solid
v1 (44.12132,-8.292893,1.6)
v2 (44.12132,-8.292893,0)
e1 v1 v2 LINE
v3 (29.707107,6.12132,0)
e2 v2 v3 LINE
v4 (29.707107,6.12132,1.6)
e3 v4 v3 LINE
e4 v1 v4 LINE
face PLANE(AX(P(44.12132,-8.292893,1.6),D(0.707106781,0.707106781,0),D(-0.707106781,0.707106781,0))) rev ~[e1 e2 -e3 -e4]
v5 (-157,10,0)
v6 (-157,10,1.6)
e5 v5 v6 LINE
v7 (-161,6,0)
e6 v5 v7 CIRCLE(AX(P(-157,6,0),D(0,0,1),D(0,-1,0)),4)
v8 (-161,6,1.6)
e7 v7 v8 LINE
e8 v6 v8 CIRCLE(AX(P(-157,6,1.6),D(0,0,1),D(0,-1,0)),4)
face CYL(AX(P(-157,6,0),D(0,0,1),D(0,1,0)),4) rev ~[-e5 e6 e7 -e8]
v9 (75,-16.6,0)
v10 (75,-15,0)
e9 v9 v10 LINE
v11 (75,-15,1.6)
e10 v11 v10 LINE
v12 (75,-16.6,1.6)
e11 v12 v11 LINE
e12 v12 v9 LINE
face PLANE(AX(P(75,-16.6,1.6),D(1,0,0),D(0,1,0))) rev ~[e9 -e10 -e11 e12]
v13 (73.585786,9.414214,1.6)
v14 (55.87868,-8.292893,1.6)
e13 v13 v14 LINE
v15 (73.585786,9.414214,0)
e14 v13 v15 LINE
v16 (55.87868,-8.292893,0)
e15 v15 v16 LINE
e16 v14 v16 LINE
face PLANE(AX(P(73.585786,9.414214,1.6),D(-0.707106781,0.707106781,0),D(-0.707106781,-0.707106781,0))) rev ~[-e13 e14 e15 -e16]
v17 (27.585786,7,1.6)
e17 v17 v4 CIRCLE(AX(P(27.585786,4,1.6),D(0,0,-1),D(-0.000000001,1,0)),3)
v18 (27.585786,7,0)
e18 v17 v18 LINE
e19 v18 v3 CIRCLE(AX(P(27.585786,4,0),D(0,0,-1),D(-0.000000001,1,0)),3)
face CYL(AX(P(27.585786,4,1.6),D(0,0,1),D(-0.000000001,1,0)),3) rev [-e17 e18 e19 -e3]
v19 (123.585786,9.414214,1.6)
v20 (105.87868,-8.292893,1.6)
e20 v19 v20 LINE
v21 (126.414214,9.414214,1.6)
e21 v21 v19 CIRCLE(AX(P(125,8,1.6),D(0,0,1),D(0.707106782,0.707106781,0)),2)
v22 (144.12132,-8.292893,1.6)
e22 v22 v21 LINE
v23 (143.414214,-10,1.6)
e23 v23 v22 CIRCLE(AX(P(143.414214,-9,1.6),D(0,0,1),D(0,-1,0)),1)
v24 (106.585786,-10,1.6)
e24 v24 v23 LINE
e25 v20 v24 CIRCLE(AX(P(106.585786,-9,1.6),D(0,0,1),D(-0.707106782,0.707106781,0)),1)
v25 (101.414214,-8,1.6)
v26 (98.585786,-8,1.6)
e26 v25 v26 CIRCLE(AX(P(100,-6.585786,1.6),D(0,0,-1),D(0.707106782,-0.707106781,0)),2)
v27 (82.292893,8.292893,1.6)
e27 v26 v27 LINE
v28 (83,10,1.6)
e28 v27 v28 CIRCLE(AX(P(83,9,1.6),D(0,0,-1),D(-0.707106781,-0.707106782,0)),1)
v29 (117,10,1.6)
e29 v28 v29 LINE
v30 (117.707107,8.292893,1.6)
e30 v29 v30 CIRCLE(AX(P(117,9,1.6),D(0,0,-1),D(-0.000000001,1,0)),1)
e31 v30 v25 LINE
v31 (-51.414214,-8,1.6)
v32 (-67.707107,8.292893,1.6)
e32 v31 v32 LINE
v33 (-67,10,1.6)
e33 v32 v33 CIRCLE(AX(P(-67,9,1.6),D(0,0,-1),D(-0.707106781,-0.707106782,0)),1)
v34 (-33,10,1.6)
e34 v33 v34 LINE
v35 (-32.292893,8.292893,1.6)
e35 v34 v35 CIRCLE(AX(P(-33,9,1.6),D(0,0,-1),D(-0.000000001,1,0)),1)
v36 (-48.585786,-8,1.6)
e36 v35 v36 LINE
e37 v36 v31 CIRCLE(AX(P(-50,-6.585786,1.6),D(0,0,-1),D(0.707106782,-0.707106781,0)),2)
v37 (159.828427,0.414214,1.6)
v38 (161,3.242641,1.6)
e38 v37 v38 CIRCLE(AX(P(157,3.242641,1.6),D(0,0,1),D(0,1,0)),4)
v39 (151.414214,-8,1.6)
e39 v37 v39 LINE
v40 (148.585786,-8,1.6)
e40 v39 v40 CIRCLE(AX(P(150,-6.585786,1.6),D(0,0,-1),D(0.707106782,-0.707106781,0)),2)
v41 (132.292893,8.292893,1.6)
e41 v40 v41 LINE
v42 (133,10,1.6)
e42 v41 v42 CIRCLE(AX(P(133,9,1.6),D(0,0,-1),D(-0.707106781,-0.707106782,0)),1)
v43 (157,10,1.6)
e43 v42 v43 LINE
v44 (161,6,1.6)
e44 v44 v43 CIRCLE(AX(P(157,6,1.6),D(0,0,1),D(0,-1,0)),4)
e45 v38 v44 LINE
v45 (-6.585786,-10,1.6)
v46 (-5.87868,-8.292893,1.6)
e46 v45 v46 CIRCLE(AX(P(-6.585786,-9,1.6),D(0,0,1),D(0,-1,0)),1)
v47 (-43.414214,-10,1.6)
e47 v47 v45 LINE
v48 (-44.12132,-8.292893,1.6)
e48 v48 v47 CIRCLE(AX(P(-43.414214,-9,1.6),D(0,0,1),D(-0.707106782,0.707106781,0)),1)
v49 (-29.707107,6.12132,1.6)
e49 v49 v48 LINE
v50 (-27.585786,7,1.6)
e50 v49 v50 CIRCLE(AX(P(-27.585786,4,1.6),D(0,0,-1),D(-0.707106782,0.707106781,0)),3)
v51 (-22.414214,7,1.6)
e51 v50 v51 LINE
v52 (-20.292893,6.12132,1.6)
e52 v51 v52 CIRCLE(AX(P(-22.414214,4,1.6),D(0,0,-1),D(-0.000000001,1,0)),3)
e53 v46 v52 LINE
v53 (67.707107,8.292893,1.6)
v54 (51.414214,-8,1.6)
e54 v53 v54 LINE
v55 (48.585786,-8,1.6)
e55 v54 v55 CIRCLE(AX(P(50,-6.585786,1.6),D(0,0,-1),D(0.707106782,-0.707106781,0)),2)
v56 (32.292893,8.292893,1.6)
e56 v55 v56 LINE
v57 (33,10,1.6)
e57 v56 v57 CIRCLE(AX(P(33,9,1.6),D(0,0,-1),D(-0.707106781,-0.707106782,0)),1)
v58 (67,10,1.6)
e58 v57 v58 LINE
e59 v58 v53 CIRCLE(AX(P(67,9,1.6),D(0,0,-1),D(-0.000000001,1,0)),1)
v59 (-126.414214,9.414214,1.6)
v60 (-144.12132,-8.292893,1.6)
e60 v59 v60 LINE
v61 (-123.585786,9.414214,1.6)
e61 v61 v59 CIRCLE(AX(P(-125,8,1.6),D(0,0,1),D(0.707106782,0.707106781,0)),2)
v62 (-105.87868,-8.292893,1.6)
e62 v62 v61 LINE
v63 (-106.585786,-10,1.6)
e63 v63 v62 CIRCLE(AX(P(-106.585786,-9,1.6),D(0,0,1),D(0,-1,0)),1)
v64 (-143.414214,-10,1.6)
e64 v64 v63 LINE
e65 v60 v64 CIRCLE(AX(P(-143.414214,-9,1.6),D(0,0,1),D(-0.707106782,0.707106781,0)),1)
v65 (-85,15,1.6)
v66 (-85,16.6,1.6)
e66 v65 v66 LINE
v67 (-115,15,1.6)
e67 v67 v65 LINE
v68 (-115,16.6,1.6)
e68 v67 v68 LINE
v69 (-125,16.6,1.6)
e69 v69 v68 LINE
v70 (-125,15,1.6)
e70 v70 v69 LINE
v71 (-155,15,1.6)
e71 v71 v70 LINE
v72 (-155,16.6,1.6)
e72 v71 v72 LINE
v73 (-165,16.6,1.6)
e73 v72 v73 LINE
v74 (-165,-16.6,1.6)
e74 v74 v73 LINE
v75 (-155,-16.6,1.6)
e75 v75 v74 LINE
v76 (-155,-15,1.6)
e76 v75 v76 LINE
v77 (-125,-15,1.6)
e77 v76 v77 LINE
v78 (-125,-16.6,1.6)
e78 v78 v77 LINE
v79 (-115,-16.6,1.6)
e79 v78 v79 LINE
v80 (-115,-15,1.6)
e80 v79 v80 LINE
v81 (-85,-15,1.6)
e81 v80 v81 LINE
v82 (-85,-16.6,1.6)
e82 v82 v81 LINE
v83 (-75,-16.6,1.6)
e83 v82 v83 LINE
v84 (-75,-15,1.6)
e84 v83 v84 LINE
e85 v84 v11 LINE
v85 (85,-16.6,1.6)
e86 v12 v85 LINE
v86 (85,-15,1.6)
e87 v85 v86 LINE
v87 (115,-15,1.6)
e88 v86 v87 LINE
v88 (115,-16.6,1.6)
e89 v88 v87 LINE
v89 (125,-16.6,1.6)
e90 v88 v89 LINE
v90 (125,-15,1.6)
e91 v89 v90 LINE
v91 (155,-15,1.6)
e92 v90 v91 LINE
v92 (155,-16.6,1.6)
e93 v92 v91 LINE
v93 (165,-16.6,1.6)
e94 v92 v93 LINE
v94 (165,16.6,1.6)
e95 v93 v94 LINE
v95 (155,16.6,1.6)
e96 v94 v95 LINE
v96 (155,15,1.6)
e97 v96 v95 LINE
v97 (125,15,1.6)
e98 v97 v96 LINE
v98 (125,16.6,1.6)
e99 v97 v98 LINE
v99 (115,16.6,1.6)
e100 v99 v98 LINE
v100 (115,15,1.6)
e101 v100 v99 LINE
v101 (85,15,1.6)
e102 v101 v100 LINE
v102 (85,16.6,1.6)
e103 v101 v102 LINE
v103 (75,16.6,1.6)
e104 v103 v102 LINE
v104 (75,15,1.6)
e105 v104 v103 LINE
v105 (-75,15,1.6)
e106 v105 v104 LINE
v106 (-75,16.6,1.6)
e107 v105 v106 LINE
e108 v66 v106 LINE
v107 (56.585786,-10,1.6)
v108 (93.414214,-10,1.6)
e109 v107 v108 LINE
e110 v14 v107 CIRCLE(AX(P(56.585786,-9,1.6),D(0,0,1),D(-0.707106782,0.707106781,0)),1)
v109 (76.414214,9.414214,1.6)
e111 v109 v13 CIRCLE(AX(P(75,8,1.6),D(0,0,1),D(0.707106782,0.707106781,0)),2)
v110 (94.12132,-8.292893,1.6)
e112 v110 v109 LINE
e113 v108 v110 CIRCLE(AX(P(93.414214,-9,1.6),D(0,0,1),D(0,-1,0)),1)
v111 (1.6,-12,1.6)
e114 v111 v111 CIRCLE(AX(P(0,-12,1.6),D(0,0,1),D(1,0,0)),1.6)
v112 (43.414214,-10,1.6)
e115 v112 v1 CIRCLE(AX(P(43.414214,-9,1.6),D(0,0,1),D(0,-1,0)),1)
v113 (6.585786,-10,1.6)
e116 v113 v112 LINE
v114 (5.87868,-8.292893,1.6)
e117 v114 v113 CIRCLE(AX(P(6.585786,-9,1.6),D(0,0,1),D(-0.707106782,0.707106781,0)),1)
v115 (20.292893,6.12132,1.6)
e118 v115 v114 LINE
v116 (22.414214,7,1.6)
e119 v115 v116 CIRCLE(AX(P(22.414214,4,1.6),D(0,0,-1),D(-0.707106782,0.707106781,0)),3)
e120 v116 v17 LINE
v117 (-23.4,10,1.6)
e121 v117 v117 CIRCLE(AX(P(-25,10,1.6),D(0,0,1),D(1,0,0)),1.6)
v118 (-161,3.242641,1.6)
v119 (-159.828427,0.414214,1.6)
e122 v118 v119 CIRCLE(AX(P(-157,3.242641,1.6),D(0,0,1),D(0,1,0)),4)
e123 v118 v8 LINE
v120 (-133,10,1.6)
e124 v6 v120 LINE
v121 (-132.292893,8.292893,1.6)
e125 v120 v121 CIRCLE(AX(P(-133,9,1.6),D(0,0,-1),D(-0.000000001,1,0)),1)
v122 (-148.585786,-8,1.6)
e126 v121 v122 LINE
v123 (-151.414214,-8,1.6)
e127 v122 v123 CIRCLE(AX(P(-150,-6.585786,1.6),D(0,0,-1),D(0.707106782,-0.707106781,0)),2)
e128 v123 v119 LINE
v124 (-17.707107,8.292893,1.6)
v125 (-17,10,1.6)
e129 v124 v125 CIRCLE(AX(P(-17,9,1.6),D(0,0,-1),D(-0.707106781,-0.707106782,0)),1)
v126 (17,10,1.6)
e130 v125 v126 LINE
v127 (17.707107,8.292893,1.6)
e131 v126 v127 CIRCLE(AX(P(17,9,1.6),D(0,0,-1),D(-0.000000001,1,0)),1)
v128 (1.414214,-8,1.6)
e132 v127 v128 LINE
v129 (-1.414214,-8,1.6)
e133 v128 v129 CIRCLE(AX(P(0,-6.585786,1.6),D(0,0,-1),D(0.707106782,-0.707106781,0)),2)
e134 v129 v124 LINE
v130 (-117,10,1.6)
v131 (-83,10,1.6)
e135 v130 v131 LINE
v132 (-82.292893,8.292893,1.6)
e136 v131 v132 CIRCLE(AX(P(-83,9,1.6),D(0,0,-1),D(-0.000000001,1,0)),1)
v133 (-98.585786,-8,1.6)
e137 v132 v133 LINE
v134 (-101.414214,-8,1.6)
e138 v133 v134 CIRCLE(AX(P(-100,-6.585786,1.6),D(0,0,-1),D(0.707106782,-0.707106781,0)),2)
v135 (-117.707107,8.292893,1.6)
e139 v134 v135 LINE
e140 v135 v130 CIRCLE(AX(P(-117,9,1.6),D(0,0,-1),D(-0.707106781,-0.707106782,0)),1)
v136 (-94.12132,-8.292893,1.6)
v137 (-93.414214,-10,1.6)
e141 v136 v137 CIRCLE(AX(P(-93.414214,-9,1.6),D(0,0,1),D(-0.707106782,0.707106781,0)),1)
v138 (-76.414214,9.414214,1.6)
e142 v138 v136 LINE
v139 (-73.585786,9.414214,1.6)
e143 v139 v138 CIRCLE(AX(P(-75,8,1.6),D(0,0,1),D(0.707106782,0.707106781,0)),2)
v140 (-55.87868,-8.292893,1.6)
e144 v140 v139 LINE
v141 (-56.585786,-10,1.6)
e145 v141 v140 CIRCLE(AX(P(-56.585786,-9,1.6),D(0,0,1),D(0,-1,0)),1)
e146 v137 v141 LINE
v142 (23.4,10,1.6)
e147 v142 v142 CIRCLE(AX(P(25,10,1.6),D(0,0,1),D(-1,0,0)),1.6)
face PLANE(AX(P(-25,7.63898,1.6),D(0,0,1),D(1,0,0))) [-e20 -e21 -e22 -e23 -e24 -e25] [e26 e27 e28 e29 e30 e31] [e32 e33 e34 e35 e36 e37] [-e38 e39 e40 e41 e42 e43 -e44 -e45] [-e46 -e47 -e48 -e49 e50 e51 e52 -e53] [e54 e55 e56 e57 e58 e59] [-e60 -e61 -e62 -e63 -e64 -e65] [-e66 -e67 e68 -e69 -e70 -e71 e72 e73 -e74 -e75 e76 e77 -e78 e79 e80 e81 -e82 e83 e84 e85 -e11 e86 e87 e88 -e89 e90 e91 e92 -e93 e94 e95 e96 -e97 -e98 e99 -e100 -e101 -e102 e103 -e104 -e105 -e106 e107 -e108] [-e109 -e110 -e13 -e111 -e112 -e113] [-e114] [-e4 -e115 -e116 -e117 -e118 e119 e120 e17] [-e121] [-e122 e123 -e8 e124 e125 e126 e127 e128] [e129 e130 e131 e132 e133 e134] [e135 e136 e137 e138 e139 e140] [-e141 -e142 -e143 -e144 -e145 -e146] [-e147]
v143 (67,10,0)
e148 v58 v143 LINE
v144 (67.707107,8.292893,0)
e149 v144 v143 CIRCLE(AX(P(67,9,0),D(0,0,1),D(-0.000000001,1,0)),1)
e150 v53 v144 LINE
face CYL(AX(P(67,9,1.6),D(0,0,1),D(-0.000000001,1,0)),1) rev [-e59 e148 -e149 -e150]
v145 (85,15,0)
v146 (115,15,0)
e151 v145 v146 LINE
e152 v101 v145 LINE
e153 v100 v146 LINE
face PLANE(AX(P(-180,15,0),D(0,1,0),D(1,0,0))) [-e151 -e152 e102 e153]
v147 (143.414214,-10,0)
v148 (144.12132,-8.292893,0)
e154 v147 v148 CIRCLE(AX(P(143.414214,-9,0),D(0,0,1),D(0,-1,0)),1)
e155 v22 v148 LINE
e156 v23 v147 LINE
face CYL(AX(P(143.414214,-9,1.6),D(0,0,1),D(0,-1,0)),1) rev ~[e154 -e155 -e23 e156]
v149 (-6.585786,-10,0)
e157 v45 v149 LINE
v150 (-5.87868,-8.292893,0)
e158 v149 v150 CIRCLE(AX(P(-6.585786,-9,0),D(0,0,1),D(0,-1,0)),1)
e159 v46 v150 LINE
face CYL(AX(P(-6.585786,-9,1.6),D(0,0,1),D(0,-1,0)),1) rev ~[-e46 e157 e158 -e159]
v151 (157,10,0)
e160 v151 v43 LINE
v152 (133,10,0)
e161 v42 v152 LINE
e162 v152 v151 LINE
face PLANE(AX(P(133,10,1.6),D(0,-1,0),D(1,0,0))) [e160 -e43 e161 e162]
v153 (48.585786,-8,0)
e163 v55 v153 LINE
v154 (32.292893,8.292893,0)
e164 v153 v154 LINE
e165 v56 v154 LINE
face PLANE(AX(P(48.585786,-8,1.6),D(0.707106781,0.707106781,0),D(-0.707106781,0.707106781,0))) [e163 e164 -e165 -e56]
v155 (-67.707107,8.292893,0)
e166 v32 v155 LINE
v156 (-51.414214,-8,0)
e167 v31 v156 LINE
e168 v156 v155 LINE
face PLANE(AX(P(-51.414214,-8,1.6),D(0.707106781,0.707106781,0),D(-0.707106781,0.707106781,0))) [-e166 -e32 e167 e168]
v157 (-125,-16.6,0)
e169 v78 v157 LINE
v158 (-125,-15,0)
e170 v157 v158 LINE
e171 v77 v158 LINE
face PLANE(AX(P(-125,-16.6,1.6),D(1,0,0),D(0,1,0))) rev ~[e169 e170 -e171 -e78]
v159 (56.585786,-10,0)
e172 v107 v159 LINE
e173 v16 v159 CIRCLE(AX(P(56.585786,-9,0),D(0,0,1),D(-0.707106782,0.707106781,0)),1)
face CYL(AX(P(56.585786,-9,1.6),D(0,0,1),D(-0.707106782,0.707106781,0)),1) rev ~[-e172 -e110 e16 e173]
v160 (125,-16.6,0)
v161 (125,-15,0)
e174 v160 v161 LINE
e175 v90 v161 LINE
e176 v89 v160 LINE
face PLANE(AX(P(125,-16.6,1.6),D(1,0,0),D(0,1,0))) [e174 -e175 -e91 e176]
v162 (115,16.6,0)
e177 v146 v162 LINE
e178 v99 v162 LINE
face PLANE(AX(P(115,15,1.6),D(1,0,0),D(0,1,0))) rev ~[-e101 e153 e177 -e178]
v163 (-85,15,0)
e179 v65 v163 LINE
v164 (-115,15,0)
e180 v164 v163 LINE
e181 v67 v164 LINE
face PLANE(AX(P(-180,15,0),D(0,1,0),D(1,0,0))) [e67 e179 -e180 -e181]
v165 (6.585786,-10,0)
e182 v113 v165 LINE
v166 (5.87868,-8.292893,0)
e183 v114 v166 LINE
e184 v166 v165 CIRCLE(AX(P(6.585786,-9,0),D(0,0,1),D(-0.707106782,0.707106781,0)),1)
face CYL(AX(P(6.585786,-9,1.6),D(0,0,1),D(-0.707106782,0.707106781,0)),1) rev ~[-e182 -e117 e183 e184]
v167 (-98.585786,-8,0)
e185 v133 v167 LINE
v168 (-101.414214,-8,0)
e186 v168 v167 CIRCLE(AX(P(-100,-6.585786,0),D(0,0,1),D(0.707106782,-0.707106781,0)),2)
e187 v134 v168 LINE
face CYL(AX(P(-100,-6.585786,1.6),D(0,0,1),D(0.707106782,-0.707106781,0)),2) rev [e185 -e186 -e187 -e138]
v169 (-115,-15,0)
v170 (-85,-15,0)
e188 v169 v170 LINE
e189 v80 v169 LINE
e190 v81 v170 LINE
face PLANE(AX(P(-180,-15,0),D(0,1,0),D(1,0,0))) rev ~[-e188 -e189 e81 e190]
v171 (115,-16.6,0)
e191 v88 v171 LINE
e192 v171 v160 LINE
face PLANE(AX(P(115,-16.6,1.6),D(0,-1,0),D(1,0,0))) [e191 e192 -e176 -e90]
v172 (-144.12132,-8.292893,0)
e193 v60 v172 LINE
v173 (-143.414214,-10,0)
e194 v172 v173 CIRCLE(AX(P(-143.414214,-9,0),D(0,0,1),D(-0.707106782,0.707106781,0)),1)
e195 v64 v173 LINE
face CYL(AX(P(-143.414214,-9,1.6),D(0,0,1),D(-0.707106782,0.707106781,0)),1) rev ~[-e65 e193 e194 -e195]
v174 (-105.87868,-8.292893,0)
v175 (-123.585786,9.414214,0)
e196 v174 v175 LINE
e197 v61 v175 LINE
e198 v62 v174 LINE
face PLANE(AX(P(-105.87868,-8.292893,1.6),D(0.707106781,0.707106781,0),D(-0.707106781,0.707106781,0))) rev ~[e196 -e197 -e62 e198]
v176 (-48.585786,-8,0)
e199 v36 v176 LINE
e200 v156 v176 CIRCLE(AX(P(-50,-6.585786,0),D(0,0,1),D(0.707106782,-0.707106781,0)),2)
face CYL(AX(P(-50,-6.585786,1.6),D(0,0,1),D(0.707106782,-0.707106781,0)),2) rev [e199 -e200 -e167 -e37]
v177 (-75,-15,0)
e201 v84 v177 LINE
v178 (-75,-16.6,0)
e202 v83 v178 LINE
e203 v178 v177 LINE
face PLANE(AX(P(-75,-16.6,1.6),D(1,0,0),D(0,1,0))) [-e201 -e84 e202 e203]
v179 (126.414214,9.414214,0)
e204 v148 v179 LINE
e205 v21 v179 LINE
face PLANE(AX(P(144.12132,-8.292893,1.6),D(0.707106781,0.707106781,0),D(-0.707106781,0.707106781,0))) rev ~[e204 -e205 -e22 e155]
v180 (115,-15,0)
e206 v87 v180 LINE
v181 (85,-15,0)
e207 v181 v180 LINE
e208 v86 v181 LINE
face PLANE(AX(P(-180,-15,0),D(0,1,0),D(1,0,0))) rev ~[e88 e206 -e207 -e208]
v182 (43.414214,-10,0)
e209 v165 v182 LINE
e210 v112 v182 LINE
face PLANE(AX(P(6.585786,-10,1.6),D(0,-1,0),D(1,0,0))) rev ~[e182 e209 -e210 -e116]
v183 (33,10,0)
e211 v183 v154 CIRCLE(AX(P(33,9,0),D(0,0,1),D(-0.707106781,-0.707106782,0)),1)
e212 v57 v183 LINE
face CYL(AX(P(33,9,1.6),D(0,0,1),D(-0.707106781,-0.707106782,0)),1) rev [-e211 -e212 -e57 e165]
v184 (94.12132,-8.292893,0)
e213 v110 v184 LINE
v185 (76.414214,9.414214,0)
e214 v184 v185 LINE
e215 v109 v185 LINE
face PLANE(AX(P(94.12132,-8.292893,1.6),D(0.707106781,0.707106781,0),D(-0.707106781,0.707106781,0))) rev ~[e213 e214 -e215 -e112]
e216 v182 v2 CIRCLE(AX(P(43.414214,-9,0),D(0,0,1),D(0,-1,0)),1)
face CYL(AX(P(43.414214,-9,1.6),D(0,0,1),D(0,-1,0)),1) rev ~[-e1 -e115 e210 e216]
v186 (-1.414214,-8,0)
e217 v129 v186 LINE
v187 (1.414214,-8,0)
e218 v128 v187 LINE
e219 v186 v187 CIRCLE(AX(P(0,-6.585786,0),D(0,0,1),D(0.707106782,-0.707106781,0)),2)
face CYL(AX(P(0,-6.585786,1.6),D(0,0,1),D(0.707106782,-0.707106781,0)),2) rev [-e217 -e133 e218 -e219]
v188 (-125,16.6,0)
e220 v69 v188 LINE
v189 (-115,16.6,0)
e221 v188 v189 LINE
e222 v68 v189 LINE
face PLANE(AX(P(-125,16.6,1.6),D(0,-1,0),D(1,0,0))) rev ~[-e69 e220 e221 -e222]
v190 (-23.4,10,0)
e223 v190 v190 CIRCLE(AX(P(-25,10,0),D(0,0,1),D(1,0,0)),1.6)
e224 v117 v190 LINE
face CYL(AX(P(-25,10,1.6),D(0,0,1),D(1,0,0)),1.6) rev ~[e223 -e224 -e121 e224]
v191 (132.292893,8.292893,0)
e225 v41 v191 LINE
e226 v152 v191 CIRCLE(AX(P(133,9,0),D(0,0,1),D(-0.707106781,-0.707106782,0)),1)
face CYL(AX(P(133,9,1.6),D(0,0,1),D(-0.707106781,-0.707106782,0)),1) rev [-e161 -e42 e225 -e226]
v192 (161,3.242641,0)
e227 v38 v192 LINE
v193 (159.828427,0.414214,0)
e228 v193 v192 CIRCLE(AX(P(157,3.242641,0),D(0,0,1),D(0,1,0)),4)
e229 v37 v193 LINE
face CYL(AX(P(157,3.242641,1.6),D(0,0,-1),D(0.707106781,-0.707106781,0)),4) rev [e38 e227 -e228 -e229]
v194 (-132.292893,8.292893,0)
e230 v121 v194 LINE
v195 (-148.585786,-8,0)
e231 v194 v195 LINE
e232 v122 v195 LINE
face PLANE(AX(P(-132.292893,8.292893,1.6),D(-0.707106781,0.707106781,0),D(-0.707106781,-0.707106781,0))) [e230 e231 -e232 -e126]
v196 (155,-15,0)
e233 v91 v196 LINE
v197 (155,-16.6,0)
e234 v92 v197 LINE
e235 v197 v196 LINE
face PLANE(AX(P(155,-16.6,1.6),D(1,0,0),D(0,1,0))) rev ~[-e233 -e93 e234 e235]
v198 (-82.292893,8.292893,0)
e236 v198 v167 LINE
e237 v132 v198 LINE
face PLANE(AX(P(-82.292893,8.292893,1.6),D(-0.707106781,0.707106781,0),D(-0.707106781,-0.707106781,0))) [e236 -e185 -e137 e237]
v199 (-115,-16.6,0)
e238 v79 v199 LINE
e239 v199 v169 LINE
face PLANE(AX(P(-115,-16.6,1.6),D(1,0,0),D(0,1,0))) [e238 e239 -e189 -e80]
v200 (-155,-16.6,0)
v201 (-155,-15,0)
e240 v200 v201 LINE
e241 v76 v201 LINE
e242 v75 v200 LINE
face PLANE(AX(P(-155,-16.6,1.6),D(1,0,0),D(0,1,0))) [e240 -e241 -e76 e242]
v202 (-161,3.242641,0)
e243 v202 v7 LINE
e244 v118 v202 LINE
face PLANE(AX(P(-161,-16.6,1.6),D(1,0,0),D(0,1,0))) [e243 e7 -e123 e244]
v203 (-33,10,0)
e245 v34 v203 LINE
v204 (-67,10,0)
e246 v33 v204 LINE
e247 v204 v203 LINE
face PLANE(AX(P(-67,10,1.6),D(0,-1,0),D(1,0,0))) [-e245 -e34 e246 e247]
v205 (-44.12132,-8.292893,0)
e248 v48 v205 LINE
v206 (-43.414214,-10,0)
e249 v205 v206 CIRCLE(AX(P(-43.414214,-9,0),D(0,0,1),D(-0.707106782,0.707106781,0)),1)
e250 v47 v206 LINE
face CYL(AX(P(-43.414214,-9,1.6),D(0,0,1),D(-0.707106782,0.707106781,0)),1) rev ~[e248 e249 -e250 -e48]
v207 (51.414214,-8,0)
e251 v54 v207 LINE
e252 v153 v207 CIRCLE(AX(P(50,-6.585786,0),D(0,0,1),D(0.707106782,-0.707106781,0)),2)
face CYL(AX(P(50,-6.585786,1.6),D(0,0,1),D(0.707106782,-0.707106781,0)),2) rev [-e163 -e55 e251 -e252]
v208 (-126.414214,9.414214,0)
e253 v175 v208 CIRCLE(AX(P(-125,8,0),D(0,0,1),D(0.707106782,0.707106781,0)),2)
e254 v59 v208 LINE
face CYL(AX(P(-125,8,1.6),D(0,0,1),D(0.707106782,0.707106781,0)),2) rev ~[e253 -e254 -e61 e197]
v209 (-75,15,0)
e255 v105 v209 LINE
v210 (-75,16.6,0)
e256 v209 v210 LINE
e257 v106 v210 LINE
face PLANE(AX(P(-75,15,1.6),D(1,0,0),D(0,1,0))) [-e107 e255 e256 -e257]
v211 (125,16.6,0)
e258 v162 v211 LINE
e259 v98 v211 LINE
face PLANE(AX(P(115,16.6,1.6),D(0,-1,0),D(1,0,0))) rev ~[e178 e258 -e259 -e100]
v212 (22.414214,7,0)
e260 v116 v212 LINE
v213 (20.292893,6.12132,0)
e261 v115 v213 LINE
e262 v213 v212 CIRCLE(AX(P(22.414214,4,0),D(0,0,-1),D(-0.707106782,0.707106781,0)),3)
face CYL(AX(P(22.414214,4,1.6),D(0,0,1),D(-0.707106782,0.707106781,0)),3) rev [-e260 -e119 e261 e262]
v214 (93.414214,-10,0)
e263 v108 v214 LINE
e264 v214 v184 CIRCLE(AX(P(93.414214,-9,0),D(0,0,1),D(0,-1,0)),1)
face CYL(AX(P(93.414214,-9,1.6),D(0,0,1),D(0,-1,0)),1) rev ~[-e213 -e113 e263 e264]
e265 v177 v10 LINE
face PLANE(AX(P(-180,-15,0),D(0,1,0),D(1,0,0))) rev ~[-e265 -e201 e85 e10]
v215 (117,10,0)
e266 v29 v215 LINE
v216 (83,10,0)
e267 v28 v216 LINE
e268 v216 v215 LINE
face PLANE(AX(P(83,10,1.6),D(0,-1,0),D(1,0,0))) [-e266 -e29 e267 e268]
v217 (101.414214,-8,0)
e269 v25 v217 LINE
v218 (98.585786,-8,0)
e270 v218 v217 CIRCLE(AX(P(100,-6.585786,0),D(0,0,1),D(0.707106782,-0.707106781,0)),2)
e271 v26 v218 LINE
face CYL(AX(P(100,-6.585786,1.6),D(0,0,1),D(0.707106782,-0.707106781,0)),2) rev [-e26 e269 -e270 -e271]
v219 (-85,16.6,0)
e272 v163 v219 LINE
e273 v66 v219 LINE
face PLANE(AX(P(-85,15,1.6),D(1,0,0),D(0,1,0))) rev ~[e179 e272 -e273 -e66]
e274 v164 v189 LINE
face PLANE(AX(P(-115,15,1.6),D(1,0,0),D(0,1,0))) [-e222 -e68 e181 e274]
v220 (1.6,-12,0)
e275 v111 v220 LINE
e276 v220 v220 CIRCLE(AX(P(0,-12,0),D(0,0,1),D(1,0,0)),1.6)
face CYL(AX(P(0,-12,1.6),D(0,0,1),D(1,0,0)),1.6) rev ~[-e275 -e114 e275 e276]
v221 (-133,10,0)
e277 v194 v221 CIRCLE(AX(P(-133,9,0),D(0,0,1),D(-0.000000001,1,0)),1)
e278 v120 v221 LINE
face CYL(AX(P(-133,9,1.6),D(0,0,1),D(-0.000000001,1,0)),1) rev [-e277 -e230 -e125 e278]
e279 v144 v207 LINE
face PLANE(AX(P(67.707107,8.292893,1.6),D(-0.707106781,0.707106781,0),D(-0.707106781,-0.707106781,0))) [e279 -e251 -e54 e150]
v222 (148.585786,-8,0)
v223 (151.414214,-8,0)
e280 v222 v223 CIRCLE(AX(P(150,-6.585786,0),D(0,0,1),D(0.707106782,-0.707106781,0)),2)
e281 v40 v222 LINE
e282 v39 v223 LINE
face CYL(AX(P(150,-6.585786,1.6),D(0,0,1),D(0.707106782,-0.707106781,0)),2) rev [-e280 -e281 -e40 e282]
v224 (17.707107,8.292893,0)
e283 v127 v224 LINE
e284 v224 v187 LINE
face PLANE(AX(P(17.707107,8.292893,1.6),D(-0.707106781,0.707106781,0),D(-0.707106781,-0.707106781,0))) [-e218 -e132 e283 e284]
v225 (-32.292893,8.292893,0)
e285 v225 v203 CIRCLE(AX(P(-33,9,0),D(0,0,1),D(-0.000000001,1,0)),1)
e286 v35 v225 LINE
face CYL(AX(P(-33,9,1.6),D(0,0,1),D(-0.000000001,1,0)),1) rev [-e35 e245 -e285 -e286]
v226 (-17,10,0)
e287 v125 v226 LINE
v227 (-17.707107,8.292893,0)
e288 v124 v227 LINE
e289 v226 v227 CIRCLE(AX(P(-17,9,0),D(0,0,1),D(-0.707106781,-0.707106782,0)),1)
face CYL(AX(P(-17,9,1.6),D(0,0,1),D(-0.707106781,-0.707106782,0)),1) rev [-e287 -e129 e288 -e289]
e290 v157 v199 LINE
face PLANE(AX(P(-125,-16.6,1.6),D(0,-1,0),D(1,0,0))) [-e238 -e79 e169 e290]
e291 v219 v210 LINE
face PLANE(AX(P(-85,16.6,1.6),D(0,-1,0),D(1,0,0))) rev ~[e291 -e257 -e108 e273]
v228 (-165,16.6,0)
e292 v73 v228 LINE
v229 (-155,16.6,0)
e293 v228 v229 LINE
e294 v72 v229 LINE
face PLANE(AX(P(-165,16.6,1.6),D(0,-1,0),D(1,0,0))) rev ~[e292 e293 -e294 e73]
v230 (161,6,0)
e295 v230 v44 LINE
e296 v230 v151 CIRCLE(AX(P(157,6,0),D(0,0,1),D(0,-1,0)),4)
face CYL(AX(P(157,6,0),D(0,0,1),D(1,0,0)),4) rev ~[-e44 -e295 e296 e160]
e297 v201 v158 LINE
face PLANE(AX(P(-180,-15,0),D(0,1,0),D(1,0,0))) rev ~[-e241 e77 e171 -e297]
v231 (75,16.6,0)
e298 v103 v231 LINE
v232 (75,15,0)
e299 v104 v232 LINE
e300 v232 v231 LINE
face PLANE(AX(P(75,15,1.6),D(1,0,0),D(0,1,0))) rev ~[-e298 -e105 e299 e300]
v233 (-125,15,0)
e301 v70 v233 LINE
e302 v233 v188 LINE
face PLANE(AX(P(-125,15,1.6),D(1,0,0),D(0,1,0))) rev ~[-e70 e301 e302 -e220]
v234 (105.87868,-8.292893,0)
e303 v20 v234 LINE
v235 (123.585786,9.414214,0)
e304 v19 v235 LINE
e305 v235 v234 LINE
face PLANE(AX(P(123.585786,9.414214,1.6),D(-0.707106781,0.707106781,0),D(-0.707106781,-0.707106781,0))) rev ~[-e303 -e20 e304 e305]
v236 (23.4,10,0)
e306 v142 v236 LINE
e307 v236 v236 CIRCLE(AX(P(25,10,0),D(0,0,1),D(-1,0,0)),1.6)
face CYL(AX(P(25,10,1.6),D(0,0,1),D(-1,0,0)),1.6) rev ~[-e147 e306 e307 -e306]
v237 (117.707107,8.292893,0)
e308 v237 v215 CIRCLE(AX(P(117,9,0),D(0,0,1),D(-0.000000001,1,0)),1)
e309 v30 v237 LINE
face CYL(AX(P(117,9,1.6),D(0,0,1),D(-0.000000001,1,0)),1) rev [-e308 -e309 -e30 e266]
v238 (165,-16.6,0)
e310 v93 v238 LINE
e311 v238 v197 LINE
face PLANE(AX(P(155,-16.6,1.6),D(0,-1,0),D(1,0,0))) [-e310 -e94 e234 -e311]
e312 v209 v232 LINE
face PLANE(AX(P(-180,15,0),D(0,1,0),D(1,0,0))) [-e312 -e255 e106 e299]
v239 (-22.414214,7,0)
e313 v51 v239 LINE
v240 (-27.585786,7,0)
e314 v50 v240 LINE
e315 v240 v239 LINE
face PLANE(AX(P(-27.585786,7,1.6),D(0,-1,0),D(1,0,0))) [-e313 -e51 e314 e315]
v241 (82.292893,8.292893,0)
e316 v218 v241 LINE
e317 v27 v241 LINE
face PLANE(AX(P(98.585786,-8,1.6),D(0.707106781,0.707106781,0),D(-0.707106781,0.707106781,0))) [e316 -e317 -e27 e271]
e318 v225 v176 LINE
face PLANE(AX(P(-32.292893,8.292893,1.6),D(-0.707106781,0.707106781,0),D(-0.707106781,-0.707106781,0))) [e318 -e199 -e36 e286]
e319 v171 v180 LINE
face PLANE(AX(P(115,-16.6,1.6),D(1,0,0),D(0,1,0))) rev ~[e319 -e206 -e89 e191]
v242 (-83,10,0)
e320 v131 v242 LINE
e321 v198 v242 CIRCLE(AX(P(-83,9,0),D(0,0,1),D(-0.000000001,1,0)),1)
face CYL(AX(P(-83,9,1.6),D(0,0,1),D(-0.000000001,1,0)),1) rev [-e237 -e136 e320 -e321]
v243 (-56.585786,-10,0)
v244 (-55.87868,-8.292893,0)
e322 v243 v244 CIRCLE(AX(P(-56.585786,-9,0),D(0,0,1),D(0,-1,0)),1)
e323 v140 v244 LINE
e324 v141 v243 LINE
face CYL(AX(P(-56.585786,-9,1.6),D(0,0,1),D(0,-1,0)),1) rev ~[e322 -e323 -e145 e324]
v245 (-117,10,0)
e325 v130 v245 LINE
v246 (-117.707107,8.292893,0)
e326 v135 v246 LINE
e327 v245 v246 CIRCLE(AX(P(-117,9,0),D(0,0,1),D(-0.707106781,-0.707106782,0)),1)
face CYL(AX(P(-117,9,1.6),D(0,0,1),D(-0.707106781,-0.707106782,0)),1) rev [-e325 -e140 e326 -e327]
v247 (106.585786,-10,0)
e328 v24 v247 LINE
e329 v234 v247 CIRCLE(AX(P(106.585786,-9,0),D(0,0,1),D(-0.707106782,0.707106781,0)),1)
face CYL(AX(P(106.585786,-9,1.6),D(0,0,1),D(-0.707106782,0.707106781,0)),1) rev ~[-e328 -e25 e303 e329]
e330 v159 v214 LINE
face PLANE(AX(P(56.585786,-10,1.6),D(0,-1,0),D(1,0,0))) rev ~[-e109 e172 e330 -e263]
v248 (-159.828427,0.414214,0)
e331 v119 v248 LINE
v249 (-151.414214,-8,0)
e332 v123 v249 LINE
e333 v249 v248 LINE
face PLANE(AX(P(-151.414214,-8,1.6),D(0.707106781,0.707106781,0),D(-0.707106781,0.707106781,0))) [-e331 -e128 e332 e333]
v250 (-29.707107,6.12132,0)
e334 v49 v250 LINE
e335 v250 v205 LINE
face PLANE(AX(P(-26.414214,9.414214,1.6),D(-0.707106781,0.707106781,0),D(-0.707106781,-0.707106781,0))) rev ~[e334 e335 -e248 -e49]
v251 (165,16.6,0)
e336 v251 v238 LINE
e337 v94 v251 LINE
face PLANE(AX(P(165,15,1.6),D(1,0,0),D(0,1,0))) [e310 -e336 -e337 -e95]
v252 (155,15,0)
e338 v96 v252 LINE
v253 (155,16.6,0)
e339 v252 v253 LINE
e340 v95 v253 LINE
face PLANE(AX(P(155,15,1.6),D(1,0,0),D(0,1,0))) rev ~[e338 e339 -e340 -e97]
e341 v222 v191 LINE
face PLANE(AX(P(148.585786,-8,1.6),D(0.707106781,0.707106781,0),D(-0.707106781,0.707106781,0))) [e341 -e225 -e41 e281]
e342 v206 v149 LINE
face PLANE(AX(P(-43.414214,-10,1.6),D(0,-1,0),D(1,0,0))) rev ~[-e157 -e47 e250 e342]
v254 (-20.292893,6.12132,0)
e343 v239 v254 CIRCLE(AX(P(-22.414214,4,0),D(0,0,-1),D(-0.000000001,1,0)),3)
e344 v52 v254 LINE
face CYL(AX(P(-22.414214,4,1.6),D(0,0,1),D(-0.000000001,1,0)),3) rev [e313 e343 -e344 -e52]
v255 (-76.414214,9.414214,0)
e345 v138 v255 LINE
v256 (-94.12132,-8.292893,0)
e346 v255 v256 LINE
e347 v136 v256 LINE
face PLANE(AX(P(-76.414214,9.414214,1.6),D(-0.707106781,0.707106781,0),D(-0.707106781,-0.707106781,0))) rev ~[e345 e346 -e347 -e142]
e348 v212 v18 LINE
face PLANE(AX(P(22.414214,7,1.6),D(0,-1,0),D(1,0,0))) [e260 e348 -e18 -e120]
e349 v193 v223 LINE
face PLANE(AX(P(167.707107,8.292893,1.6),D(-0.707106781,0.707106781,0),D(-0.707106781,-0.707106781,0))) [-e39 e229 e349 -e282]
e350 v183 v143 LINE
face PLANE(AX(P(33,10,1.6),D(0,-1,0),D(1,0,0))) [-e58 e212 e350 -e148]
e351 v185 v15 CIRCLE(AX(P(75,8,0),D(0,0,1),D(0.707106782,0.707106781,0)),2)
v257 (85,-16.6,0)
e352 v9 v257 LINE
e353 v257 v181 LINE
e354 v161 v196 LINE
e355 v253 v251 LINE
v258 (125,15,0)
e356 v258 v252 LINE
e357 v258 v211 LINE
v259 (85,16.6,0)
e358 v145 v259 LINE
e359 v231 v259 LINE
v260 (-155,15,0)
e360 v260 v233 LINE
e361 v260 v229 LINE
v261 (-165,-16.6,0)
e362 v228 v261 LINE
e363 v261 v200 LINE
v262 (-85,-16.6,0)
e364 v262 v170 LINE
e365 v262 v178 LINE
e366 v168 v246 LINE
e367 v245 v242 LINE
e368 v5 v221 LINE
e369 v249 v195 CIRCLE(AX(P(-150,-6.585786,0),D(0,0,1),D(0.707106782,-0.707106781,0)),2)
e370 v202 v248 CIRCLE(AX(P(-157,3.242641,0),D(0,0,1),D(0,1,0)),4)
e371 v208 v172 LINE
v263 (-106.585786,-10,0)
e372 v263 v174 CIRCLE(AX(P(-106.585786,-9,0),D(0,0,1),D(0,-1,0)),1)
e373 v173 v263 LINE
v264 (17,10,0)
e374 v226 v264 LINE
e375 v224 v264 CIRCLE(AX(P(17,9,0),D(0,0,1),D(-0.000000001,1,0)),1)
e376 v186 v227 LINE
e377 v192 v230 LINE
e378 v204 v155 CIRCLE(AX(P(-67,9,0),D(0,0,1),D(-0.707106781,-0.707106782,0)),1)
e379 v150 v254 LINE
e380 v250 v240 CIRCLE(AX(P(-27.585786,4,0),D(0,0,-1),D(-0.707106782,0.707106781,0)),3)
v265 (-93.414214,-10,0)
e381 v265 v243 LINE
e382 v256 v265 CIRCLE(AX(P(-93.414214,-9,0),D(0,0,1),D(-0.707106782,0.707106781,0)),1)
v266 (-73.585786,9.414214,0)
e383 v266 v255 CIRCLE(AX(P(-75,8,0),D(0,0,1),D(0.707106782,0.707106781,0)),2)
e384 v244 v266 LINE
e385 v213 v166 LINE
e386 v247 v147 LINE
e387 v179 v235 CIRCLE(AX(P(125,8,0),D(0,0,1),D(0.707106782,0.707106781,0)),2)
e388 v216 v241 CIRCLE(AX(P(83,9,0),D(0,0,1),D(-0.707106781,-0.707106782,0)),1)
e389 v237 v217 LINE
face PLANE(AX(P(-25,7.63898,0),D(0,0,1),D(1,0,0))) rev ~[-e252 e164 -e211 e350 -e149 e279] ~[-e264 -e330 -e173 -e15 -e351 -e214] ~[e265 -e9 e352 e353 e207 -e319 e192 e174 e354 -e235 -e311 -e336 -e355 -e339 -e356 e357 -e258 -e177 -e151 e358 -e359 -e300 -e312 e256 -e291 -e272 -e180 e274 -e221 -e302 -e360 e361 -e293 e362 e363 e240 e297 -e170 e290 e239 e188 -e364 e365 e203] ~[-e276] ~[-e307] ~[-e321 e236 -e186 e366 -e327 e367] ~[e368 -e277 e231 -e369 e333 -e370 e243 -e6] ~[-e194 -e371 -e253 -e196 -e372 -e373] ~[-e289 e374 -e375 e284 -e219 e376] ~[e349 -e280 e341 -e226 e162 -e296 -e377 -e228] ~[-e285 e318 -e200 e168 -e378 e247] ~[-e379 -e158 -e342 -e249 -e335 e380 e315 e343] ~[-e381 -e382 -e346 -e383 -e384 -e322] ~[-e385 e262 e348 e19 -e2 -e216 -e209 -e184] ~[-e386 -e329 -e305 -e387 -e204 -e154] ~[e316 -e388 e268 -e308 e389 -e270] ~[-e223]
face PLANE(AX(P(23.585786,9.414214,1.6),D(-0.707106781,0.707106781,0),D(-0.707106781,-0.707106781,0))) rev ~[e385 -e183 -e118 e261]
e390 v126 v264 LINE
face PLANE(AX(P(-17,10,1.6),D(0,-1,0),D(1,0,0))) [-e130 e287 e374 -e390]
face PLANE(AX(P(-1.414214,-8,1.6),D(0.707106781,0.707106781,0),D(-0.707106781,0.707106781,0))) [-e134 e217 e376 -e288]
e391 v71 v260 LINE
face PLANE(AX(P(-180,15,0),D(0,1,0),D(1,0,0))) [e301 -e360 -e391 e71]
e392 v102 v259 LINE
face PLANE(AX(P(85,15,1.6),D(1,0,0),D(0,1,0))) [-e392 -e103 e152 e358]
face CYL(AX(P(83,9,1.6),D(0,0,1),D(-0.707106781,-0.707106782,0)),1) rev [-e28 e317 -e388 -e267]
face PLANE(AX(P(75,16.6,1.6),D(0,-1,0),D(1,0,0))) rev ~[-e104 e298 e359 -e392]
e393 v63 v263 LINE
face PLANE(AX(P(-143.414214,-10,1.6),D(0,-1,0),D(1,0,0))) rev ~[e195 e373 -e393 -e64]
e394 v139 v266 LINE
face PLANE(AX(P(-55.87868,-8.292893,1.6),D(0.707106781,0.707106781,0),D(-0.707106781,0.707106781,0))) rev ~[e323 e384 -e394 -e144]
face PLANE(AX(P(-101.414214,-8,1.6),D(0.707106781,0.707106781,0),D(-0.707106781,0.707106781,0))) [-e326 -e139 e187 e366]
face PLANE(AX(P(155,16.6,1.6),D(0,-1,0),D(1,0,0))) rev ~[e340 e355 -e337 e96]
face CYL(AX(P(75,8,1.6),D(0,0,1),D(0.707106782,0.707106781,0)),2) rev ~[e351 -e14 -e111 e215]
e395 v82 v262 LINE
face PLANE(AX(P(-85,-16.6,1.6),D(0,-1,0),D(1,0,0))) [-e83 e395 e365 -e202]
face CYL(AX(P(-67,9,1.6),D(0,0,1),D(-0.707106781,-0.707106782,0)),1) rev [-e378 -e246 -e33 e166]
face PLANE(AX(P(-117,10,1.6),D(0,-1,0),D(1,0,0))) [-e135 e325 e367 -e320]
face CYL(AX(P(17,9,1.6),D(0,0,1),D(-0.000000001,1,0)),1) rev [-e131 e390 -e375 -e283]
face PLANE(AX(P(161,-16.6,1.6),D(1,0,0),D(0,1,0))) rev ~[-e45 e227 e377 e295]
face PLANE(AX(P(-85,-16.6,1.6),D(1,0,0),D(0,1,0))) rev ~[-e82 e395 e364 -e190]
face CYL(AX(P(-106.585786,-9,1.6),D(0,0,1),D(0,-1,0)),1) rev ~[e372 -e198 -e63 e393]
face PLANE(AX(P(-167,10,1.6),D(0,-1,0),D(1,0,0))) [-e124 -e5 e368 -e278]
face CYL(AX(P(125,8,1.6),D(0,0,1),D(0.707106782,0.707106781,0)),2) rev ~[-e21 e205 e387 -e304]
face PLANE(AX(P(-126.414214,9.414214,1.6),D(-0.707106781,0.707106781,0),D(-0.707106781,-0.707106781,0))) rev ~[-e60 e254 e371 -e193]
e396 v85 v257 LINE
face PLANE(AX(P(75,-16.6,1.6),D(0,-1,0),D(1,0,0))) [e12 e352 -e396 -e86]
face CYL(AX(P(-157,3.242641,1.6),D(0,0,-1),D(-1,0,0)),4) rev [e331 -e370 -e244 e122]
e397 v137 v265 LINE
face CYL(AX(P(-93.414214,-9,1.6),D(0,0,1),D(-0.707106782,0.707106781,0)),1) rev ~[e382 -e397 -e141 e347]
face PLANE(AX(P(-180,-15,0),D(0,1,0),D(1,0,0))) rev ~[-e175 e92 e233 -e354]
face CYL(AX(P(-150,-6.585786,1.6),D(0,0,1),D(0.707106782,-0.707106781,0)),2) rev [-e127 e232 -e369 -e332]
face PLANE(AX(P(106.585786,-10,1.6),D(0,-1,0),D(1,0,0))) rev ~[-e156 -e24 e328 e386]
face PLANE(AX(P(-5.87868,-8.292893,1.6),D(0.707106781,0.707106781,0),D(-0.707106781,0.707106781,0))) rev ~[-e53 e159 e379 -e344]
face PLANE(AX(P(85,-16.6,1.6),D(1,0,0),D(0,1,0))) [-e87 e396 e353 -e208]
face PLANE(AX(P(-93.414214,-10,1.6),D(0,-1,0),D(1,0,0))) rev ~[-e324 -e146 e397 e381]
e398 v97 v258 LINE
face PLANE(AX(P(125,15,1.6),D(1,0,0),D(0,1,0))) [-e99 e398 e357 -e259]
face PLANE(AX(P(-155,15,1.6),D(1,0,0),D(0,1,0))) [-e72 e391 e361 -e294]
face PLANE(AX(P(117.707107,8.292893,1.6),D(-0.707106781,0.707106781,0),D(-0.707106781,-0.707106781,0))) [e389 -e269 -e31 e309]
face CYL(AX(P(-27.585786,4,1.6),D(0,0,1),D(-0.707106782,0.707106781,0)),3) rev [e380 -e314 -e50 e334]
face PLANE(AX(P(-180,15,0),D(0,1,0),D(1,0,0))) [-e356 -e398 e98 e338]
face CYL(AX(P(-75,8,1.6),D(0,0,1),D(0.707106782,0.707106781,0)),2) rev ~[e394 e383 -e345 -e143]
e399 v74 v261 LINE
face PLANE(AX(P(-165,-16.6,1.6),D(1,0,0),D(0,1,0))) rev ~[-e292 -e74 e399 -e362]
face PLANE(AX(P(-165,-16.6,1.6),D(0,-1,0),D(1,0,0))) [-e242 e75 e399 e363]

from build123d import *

# Parameters (mm, degrees)
SKETCH1_W           = 360
SKETCH1_H           = 30
BOSS_EXTRUDE1_DEPTH = 1.6
SKETCH2_W           = 10
SKETCH2_H           = 1.6
BOSS_EXTRUDE2_DEPTH = 1.6
CUT_EXTRUDE1_DEPTH  = 181.770904739
CUT_EXTRUDE2_DEPTH  = 181.770904739
SKETCH5_W           = 15
SKETCH5_H           = 30
CUT_EXTRUDE3_DEPTH  = 181.770904739
SKETCH6_W           = 4
SKETCH6_H           = 33.2
BOSS_EXTRUDE3_DEPTH = 1.6
FILLET1_R           = 4
BOSS_EXTRUDE4_DEPTH = 1.6
SKETCH8_R           = 1.6
CUT_EXTRUDE4_DEPTH  = 166.840646405


with BuildPart() as part:
    # Sketch1 → Boss-Extrude1 (new body)
    with BuildSketch(Plane.XY):
        Rectangle(SKETCH1_W, SKETCH1_H)
    extrude(amount=BOSS_EXTRUDE1_DEPTH)

    # Sketch2 → Boss-Extrude2 (add)
    with BuildSketch(Plane.XY.offset(1.6)):
        with Locations((120, 15.8)):
            Rectangle(SKETCH2_W, SKETCH2_H)
        with Locations((80, 15.8)):
            Rectangle(SKETCH2_W, SKETCH2_H)
        with Locations((160, 15.8)):
            Rectangle(SKETCH2_W, SKETCH2_H)
        with Locations((-160, 15.8)):
            Rectangle(SKETCH2_W, SKETCH2_H)
        with Locations((-120, 15.8)):
            Rectangle(SKETCH2_W, SKETCH2_H)
        with Locations((-80, 15.8)):
            Rectangle(SKETCH2_W, SKETCH2_H)
        with Locations((-120, -15.8)):
            Rectangle(SKETCH2_W, SKETCH2_H)
        with Locations((-80, -15.8)):
            Rectangle(SKETCH2_W, SKETCH2_H)
        with Locations((-160, -15.8)):
            Rectangle(SKETCH2_W, SKETCH2_H)
        with Locations((160, -15.8)):
            Rectangle(SKETCH2_W, SKETCH2_H)
        with Locations((120, -15.8)):
            Rectangle(SKETCH2_W, SKETCH2_H)
        with Locations((80, -15.8)):
            Rectangle(SKETCH2_W, SKETCH2_H)
    extrude(amount=-BOSS_EXTRUDE2_DEPTH)

    # Sketch3 → Cut-Extrude1 (cut, through all)
    with BuildSketch(Plane.XY.offset(1.6)):
        with BuildLine():
            Line((-167, 10), (-133, 10))
            ThreePointArc((-133, 10), (-132.076120467, 9.382683432), (-132.292893219, 8.292893219))
            Line((-132.292893219, 8.292893219), (-148.585786438, -8))
            ThreePointArc((-148.585786438, -8), (-150, -8.585786438), (-151.414213562, -8))
            Line((-151.414213562, -8), (-167.707106781, 8.292893219))
            ThreePointArc((-167.707106781, 8.292893219), (-167.923879533, 9.382683432), (-167, 10))
        make_face()
        with BuildLine():
            Line((-117, 10), (-83, 10))
            ThreePointArc((-83, 10), (-82.076120467, 9.382683432), (-82.292893219, 8.292893219))
            Line((-82.292893219, 8.292893219), (-98.585786438, -8))
            ThreePointArc((-98.585786438, -8), (-100, -8.585786438), (-101.414213562, -8))
            Line((-101.414213562, -8), (-117.707106781, 8.292893219))
            ThreePointArc((-117.707106781, 8.292893219), (-117.923879533, 9.382683432), (-117, 10))
        make_face()
        with BuildLine():
            Line((-67, 10), (-33, 10))
            ThreePointArc((-33, 10), (-32.076120467, 9.382683432), (-32.292893219, 8.292893219))
            Line((-32.292893219, 8.292893219), (-48.585786438, -8))
            ThreePointArc((-48.585786438, -8), (-50, -8.585786438), (-51.414213562, -8))
            Line((-51.414213562, -8), (-67.707106781, 8.292893219))
            ThreePointArc((-67.707106781, 8.292893219), (-67.923879533, 9.382683432), (-67, 10))
        make_face()
        with BuildLine():
            Line((-17, 10), (17, 10))
            ThreePointArc((17, 10), (17.923879533, 9.382683432), (17.707106781, 8.292893219))
            Line((17.707106781, 8.292893219), (1.414213562, -8))
            ThreePointArc((1.414213562, -8), (0, -8.585786438), (-1.414213562, -8))
            Line((-1.414213562, -8), (-17.707106781, 8.292893219))
            ThreePointArc((-17.707106781, 8.292893219), (-17.923879533, 9.382683432), (-17, 10))
        make_face()
        with BuildLine():
            Line((33, 10), (67, 10))
            ThreePointArc((67, 10), (67.923879533, 9.382683432), (67.707106781, 8.292893219))
            Line((67.707106781, 8.292893219), (51.414213562, -8))
            ThreePointArc((51.414213562, -8), (50, -8.585786438), (48.585786438, -8))
            Line((48.585786438, -8), (32.292893219, 8.292893219))
            ThreePointArc((32.292893219, 8.292893219), (32.076120467, 9.382683432), (33, 10))
        make_face()
        with BuildLine():
            Line((83, 10), (117, 10))
            ThreePointArc((117, 10), (117.923879533, 9.382683432), (117.707106781, 8.292893219))
            Line((117.707106781, 8.292893219), (101.414213562, -8))
            ThreePointArc((101.414213562, -8), (100, -8.585786438), (98.585786438, -8))
            Line((98.585786438, -8), (82.292893219, 8.292893219))
            ThreePointArc((82.292893219, 8.292893219), (82.076120467, 9.382683432), (83, 10))
        make_face()
        with BuildLine():
            Line((133, 10), (167, 10))
            ThreePointArc((167, 10), (167.923879533, 9.382683432), (167.707106781, 8.292893219))
            Line((167.707106781, 8.292893219), (151.414213562, -8))
            ThreePointArc((151.414213562, -8), (150, -8.585786438), (148.585786438, -8))
            Line((148.585786438, -8), (132.292893219, 8.292893219))
            ThreePointArc((132.292893219, 8.292893219), (132.076120467, 9.382683432), (133, 10))
        make_face()
    extrude(amount=-CUT_EXTRUDE1_DEPTH, mode=Mode.SUBTRACT)

    # Sketch4 → Cut-Extrude2 (cut, through all)
    with BuildSketch(Plane.XY.offset(1.6)):
        with BuildLine():
            Line((-143.414213562, -10), (-106.585786438, -10))
            ThreePointArc((-106.585786438, -10), (-105.661906905, -9.382683432), (-105.878679656, -8.292893219))
            Line((-105.878679656, -8.292893219), (-123.585786438, 9.414213562))
            ThreePointArc((-123.585786438, 9.414213562), (-125, 10), (-126.414213562, 9.414213562))
            Line((-126.414213562, 9.414213562), (-144.121320344, -8.292893219))
            ThreePointArc((-144.121320344, -8.292893219), (-144.338093095, -9.382683432), (-143.414213562, -10))
        make_face()
        with BuildLine():
            Line((-93.414213562, -10), (-56.585786438, -10))
            ThreePointArc((-56.585786438, -10), (-55.661906905, -9.382683432), (-55.878679656, -8.292893219))
            Line((-55.878679656, -8.292893219), (-73.585786438, 9.414213562))
            ThreePointArc((-73.585786438, 9.414213562), (-75, 10), (-76.414213562, 9.414213562))
            Line((-76.414213562, 9.414213562), (-94.121320344, -8.292893219))
            ThreePointArc((-94.121320344, -8.292893219), (-94.338093095, -9.382683432), (-93.414213562, -10))
        make_face()
        with BuildLine():
            Line((-43.414213562, -10), (-6.585786438, -10))
            ThreePointArc((-6.585786438, -10), (-5.661906905, -9.382683432), (-5.878679656, -8.292893219))
            Line((-5.878679656, -8.292893219), (-23.585786438, 9.414213562))
            ThreePointArc((-23.585786438, 9.414213562), (-25, 10), (-26.414213562, 9.414213562))
            Line((-26.414213562, 9.414213562), (-44.121320344, -8.292893219))
            ThreePointArc((-44.121320344, -8.292893219), (-44.338093095, -9.382683432), (-43.414213562, -10))
        make_face()
        with BuildLine():
            Line((6.585786438, -10), (43.414213562, -10))
            ThreePointArc((43.414213562, -10), (44.338093095, -9.382683432), (44.121320344, -8.292893219))
            Line((44.121320344, -8.292893219), (26.414213562, 9.414213562))
            ThreePointArc((26.414213562, 9.414213562), (25, 10), (23.585786438, 9.414213562))
            Line((23.585786438, 9.414213562), (5.878679656, -8.292893219))
            ThreePointArc((5.878679656, -8.292893219), (5.661906905, -9.382683432), (6.585786438, -10))
        make_face()
        with BuildLine():
            Line((56.585786438, -10), (93.414213562, -10))
            ThreePointArc((93.414213562, -10), (94.338093095, -9.382683432), (94.121320344, -8.292893219))
            Line((94.121320344, -8.292893219), (76.414213562, 9.414213562))
            ThreePointArc((76.414213562, 9.414213562), (75, 10), (73.585786438, 9.414213562))
            Line((73.585786438, 9.414213562), (55.878679656, -8.292893219))
            ThreePointArc((55.878679656, -8.292893219), (55.661906905, -9.382683432), (56.585786438, -10))
        make_face()
        with BuildLine():
            Line((106.585786438, -10), (143.414213562, -10))
            ThreePointArc((143.414213562, -10), (144.338093095, -9.382683432), (144.121320344, -8.292893219))
            Line((144.121320344, -8.292893219), (126.414213562, 9.414213562))
            ThreePointArc((126.414213562, 9.414213562), (125, 10), (123.585786438, 9.414213562))
            Line((123.585786438, 9.414213562), (105.878679656, -8.292893219))
            ThreePointArc((105.878679656, -8.292893219), (105.661906905, -9.382683432), (106.585786438, -10))
        make_face()
    extrude(amount=-CUT_EXTRUDE2_DEPTH, mode=Mode.SUBTRACT)

    # Sketch5 → Cut-Extrude3 (cut, through all)
    with BuildSketch(Plane.XY.offset(1.6)):
        with Locations((-172.5, 0)):
            Rectangle(SKETCH5_W, SKETCH5_H)
        with Locations((172.5, 0)):
            Rectangle(SKETCH5_W, SKETCH5_H)
    extrude(amount=-CUT_EXTRUDE3_DEPTH, mode=Mode.SUBTRACT)

    # Sketch6 → Boss-Extrude3 (add)
    with BuildSketch(Plane.XY.offset(1.6)):
        with Locations((-163, 0)):
            Rectangle(SKETCH6_W, SKETCH6_H)
        with Locations((163, 0)):
            Rectangle(SKETCH6_W, SKETCH6_H)
    extrude(amount=-BOSS_EXTRUDE3_DEPTH)

    # Fillet1
    fillet1_edges = [part.edges().sort_by_distance(p)[0] for p in [
        (-161, 10, 0.8),
        (-161, 1.585786438, 0.8),
        (161, 1.585786438, 0.8),
        (161, 10, 0.8),
    ]]
    fillet(fillet1_edges, radius=FILLET1_R)

    # Sketch7 → Boss-Extrude4 (add)
    with BuildSketch(Plane.XY.offset(1.6)):
        with BuildLine():
            Line((-26.414213562, 9.414213562), (-29.707106781, 6.121320344))
            ThreePointArc((-29.707106781, 6.121320344), (-28.733836735, 6.771638598), (-27.585786438, 7))
            Line((-27.585786438, 7), (-22.414213562, 7))
            ThreePointArc((-22.414213562, 7), (-21.266163265, 6.771638598), (-20.292893219, 6.121320344))
            Line((-20.292893219, 6.121320344), (-23.585786438, 9.414213562))
            ThreePointArc((-23.585786438, 9.414213562), (-25, 10), (-26.414213562, 9.414213562))
        make_face()
        with BuildLine():
            Line((23.585786438, 9.414213562), (20.292893219, 6.121320344))
            ThreePointArc((20.292893219, 6.121320344), (21.266163265, 6.771638598), (22.414213562, 7))
            Line((22.414213562, 7), (27.585786438, 7))
            ThreePointArc((27.585786438, 7), (28.733836735, 6.771638598), (29.707106781, 6.121320344))
            Line((29.707106781, 6.121320344), (26.414213562, 9.414213562))
            ThreePointArc((26.414213562, 9.414213562), (25, 10), (23.585786438, 9.414213562))
        make_face()
    extrude(amount=-BOSS_EXTRUDE4_DEPTH)

    # Sketch8 → Cut-Extrude4 (cut, through all)
    with BuildSketch(Plane.XY.offset(1.6)):
        with Locations((-25, 10)):
            Circle(SKETCH8_R)
        with Locations(Location((25, 10, 0), (0, 0, 180))):
            Circle(SKETCH8_R)
        with Locations((0, -12)):
            Circle(SKETCH8_R)
    extrude(amount=-CUT_EXTRUDE4_DEPTH, mode=Mode.SUBTRACT)


solid = part.part
